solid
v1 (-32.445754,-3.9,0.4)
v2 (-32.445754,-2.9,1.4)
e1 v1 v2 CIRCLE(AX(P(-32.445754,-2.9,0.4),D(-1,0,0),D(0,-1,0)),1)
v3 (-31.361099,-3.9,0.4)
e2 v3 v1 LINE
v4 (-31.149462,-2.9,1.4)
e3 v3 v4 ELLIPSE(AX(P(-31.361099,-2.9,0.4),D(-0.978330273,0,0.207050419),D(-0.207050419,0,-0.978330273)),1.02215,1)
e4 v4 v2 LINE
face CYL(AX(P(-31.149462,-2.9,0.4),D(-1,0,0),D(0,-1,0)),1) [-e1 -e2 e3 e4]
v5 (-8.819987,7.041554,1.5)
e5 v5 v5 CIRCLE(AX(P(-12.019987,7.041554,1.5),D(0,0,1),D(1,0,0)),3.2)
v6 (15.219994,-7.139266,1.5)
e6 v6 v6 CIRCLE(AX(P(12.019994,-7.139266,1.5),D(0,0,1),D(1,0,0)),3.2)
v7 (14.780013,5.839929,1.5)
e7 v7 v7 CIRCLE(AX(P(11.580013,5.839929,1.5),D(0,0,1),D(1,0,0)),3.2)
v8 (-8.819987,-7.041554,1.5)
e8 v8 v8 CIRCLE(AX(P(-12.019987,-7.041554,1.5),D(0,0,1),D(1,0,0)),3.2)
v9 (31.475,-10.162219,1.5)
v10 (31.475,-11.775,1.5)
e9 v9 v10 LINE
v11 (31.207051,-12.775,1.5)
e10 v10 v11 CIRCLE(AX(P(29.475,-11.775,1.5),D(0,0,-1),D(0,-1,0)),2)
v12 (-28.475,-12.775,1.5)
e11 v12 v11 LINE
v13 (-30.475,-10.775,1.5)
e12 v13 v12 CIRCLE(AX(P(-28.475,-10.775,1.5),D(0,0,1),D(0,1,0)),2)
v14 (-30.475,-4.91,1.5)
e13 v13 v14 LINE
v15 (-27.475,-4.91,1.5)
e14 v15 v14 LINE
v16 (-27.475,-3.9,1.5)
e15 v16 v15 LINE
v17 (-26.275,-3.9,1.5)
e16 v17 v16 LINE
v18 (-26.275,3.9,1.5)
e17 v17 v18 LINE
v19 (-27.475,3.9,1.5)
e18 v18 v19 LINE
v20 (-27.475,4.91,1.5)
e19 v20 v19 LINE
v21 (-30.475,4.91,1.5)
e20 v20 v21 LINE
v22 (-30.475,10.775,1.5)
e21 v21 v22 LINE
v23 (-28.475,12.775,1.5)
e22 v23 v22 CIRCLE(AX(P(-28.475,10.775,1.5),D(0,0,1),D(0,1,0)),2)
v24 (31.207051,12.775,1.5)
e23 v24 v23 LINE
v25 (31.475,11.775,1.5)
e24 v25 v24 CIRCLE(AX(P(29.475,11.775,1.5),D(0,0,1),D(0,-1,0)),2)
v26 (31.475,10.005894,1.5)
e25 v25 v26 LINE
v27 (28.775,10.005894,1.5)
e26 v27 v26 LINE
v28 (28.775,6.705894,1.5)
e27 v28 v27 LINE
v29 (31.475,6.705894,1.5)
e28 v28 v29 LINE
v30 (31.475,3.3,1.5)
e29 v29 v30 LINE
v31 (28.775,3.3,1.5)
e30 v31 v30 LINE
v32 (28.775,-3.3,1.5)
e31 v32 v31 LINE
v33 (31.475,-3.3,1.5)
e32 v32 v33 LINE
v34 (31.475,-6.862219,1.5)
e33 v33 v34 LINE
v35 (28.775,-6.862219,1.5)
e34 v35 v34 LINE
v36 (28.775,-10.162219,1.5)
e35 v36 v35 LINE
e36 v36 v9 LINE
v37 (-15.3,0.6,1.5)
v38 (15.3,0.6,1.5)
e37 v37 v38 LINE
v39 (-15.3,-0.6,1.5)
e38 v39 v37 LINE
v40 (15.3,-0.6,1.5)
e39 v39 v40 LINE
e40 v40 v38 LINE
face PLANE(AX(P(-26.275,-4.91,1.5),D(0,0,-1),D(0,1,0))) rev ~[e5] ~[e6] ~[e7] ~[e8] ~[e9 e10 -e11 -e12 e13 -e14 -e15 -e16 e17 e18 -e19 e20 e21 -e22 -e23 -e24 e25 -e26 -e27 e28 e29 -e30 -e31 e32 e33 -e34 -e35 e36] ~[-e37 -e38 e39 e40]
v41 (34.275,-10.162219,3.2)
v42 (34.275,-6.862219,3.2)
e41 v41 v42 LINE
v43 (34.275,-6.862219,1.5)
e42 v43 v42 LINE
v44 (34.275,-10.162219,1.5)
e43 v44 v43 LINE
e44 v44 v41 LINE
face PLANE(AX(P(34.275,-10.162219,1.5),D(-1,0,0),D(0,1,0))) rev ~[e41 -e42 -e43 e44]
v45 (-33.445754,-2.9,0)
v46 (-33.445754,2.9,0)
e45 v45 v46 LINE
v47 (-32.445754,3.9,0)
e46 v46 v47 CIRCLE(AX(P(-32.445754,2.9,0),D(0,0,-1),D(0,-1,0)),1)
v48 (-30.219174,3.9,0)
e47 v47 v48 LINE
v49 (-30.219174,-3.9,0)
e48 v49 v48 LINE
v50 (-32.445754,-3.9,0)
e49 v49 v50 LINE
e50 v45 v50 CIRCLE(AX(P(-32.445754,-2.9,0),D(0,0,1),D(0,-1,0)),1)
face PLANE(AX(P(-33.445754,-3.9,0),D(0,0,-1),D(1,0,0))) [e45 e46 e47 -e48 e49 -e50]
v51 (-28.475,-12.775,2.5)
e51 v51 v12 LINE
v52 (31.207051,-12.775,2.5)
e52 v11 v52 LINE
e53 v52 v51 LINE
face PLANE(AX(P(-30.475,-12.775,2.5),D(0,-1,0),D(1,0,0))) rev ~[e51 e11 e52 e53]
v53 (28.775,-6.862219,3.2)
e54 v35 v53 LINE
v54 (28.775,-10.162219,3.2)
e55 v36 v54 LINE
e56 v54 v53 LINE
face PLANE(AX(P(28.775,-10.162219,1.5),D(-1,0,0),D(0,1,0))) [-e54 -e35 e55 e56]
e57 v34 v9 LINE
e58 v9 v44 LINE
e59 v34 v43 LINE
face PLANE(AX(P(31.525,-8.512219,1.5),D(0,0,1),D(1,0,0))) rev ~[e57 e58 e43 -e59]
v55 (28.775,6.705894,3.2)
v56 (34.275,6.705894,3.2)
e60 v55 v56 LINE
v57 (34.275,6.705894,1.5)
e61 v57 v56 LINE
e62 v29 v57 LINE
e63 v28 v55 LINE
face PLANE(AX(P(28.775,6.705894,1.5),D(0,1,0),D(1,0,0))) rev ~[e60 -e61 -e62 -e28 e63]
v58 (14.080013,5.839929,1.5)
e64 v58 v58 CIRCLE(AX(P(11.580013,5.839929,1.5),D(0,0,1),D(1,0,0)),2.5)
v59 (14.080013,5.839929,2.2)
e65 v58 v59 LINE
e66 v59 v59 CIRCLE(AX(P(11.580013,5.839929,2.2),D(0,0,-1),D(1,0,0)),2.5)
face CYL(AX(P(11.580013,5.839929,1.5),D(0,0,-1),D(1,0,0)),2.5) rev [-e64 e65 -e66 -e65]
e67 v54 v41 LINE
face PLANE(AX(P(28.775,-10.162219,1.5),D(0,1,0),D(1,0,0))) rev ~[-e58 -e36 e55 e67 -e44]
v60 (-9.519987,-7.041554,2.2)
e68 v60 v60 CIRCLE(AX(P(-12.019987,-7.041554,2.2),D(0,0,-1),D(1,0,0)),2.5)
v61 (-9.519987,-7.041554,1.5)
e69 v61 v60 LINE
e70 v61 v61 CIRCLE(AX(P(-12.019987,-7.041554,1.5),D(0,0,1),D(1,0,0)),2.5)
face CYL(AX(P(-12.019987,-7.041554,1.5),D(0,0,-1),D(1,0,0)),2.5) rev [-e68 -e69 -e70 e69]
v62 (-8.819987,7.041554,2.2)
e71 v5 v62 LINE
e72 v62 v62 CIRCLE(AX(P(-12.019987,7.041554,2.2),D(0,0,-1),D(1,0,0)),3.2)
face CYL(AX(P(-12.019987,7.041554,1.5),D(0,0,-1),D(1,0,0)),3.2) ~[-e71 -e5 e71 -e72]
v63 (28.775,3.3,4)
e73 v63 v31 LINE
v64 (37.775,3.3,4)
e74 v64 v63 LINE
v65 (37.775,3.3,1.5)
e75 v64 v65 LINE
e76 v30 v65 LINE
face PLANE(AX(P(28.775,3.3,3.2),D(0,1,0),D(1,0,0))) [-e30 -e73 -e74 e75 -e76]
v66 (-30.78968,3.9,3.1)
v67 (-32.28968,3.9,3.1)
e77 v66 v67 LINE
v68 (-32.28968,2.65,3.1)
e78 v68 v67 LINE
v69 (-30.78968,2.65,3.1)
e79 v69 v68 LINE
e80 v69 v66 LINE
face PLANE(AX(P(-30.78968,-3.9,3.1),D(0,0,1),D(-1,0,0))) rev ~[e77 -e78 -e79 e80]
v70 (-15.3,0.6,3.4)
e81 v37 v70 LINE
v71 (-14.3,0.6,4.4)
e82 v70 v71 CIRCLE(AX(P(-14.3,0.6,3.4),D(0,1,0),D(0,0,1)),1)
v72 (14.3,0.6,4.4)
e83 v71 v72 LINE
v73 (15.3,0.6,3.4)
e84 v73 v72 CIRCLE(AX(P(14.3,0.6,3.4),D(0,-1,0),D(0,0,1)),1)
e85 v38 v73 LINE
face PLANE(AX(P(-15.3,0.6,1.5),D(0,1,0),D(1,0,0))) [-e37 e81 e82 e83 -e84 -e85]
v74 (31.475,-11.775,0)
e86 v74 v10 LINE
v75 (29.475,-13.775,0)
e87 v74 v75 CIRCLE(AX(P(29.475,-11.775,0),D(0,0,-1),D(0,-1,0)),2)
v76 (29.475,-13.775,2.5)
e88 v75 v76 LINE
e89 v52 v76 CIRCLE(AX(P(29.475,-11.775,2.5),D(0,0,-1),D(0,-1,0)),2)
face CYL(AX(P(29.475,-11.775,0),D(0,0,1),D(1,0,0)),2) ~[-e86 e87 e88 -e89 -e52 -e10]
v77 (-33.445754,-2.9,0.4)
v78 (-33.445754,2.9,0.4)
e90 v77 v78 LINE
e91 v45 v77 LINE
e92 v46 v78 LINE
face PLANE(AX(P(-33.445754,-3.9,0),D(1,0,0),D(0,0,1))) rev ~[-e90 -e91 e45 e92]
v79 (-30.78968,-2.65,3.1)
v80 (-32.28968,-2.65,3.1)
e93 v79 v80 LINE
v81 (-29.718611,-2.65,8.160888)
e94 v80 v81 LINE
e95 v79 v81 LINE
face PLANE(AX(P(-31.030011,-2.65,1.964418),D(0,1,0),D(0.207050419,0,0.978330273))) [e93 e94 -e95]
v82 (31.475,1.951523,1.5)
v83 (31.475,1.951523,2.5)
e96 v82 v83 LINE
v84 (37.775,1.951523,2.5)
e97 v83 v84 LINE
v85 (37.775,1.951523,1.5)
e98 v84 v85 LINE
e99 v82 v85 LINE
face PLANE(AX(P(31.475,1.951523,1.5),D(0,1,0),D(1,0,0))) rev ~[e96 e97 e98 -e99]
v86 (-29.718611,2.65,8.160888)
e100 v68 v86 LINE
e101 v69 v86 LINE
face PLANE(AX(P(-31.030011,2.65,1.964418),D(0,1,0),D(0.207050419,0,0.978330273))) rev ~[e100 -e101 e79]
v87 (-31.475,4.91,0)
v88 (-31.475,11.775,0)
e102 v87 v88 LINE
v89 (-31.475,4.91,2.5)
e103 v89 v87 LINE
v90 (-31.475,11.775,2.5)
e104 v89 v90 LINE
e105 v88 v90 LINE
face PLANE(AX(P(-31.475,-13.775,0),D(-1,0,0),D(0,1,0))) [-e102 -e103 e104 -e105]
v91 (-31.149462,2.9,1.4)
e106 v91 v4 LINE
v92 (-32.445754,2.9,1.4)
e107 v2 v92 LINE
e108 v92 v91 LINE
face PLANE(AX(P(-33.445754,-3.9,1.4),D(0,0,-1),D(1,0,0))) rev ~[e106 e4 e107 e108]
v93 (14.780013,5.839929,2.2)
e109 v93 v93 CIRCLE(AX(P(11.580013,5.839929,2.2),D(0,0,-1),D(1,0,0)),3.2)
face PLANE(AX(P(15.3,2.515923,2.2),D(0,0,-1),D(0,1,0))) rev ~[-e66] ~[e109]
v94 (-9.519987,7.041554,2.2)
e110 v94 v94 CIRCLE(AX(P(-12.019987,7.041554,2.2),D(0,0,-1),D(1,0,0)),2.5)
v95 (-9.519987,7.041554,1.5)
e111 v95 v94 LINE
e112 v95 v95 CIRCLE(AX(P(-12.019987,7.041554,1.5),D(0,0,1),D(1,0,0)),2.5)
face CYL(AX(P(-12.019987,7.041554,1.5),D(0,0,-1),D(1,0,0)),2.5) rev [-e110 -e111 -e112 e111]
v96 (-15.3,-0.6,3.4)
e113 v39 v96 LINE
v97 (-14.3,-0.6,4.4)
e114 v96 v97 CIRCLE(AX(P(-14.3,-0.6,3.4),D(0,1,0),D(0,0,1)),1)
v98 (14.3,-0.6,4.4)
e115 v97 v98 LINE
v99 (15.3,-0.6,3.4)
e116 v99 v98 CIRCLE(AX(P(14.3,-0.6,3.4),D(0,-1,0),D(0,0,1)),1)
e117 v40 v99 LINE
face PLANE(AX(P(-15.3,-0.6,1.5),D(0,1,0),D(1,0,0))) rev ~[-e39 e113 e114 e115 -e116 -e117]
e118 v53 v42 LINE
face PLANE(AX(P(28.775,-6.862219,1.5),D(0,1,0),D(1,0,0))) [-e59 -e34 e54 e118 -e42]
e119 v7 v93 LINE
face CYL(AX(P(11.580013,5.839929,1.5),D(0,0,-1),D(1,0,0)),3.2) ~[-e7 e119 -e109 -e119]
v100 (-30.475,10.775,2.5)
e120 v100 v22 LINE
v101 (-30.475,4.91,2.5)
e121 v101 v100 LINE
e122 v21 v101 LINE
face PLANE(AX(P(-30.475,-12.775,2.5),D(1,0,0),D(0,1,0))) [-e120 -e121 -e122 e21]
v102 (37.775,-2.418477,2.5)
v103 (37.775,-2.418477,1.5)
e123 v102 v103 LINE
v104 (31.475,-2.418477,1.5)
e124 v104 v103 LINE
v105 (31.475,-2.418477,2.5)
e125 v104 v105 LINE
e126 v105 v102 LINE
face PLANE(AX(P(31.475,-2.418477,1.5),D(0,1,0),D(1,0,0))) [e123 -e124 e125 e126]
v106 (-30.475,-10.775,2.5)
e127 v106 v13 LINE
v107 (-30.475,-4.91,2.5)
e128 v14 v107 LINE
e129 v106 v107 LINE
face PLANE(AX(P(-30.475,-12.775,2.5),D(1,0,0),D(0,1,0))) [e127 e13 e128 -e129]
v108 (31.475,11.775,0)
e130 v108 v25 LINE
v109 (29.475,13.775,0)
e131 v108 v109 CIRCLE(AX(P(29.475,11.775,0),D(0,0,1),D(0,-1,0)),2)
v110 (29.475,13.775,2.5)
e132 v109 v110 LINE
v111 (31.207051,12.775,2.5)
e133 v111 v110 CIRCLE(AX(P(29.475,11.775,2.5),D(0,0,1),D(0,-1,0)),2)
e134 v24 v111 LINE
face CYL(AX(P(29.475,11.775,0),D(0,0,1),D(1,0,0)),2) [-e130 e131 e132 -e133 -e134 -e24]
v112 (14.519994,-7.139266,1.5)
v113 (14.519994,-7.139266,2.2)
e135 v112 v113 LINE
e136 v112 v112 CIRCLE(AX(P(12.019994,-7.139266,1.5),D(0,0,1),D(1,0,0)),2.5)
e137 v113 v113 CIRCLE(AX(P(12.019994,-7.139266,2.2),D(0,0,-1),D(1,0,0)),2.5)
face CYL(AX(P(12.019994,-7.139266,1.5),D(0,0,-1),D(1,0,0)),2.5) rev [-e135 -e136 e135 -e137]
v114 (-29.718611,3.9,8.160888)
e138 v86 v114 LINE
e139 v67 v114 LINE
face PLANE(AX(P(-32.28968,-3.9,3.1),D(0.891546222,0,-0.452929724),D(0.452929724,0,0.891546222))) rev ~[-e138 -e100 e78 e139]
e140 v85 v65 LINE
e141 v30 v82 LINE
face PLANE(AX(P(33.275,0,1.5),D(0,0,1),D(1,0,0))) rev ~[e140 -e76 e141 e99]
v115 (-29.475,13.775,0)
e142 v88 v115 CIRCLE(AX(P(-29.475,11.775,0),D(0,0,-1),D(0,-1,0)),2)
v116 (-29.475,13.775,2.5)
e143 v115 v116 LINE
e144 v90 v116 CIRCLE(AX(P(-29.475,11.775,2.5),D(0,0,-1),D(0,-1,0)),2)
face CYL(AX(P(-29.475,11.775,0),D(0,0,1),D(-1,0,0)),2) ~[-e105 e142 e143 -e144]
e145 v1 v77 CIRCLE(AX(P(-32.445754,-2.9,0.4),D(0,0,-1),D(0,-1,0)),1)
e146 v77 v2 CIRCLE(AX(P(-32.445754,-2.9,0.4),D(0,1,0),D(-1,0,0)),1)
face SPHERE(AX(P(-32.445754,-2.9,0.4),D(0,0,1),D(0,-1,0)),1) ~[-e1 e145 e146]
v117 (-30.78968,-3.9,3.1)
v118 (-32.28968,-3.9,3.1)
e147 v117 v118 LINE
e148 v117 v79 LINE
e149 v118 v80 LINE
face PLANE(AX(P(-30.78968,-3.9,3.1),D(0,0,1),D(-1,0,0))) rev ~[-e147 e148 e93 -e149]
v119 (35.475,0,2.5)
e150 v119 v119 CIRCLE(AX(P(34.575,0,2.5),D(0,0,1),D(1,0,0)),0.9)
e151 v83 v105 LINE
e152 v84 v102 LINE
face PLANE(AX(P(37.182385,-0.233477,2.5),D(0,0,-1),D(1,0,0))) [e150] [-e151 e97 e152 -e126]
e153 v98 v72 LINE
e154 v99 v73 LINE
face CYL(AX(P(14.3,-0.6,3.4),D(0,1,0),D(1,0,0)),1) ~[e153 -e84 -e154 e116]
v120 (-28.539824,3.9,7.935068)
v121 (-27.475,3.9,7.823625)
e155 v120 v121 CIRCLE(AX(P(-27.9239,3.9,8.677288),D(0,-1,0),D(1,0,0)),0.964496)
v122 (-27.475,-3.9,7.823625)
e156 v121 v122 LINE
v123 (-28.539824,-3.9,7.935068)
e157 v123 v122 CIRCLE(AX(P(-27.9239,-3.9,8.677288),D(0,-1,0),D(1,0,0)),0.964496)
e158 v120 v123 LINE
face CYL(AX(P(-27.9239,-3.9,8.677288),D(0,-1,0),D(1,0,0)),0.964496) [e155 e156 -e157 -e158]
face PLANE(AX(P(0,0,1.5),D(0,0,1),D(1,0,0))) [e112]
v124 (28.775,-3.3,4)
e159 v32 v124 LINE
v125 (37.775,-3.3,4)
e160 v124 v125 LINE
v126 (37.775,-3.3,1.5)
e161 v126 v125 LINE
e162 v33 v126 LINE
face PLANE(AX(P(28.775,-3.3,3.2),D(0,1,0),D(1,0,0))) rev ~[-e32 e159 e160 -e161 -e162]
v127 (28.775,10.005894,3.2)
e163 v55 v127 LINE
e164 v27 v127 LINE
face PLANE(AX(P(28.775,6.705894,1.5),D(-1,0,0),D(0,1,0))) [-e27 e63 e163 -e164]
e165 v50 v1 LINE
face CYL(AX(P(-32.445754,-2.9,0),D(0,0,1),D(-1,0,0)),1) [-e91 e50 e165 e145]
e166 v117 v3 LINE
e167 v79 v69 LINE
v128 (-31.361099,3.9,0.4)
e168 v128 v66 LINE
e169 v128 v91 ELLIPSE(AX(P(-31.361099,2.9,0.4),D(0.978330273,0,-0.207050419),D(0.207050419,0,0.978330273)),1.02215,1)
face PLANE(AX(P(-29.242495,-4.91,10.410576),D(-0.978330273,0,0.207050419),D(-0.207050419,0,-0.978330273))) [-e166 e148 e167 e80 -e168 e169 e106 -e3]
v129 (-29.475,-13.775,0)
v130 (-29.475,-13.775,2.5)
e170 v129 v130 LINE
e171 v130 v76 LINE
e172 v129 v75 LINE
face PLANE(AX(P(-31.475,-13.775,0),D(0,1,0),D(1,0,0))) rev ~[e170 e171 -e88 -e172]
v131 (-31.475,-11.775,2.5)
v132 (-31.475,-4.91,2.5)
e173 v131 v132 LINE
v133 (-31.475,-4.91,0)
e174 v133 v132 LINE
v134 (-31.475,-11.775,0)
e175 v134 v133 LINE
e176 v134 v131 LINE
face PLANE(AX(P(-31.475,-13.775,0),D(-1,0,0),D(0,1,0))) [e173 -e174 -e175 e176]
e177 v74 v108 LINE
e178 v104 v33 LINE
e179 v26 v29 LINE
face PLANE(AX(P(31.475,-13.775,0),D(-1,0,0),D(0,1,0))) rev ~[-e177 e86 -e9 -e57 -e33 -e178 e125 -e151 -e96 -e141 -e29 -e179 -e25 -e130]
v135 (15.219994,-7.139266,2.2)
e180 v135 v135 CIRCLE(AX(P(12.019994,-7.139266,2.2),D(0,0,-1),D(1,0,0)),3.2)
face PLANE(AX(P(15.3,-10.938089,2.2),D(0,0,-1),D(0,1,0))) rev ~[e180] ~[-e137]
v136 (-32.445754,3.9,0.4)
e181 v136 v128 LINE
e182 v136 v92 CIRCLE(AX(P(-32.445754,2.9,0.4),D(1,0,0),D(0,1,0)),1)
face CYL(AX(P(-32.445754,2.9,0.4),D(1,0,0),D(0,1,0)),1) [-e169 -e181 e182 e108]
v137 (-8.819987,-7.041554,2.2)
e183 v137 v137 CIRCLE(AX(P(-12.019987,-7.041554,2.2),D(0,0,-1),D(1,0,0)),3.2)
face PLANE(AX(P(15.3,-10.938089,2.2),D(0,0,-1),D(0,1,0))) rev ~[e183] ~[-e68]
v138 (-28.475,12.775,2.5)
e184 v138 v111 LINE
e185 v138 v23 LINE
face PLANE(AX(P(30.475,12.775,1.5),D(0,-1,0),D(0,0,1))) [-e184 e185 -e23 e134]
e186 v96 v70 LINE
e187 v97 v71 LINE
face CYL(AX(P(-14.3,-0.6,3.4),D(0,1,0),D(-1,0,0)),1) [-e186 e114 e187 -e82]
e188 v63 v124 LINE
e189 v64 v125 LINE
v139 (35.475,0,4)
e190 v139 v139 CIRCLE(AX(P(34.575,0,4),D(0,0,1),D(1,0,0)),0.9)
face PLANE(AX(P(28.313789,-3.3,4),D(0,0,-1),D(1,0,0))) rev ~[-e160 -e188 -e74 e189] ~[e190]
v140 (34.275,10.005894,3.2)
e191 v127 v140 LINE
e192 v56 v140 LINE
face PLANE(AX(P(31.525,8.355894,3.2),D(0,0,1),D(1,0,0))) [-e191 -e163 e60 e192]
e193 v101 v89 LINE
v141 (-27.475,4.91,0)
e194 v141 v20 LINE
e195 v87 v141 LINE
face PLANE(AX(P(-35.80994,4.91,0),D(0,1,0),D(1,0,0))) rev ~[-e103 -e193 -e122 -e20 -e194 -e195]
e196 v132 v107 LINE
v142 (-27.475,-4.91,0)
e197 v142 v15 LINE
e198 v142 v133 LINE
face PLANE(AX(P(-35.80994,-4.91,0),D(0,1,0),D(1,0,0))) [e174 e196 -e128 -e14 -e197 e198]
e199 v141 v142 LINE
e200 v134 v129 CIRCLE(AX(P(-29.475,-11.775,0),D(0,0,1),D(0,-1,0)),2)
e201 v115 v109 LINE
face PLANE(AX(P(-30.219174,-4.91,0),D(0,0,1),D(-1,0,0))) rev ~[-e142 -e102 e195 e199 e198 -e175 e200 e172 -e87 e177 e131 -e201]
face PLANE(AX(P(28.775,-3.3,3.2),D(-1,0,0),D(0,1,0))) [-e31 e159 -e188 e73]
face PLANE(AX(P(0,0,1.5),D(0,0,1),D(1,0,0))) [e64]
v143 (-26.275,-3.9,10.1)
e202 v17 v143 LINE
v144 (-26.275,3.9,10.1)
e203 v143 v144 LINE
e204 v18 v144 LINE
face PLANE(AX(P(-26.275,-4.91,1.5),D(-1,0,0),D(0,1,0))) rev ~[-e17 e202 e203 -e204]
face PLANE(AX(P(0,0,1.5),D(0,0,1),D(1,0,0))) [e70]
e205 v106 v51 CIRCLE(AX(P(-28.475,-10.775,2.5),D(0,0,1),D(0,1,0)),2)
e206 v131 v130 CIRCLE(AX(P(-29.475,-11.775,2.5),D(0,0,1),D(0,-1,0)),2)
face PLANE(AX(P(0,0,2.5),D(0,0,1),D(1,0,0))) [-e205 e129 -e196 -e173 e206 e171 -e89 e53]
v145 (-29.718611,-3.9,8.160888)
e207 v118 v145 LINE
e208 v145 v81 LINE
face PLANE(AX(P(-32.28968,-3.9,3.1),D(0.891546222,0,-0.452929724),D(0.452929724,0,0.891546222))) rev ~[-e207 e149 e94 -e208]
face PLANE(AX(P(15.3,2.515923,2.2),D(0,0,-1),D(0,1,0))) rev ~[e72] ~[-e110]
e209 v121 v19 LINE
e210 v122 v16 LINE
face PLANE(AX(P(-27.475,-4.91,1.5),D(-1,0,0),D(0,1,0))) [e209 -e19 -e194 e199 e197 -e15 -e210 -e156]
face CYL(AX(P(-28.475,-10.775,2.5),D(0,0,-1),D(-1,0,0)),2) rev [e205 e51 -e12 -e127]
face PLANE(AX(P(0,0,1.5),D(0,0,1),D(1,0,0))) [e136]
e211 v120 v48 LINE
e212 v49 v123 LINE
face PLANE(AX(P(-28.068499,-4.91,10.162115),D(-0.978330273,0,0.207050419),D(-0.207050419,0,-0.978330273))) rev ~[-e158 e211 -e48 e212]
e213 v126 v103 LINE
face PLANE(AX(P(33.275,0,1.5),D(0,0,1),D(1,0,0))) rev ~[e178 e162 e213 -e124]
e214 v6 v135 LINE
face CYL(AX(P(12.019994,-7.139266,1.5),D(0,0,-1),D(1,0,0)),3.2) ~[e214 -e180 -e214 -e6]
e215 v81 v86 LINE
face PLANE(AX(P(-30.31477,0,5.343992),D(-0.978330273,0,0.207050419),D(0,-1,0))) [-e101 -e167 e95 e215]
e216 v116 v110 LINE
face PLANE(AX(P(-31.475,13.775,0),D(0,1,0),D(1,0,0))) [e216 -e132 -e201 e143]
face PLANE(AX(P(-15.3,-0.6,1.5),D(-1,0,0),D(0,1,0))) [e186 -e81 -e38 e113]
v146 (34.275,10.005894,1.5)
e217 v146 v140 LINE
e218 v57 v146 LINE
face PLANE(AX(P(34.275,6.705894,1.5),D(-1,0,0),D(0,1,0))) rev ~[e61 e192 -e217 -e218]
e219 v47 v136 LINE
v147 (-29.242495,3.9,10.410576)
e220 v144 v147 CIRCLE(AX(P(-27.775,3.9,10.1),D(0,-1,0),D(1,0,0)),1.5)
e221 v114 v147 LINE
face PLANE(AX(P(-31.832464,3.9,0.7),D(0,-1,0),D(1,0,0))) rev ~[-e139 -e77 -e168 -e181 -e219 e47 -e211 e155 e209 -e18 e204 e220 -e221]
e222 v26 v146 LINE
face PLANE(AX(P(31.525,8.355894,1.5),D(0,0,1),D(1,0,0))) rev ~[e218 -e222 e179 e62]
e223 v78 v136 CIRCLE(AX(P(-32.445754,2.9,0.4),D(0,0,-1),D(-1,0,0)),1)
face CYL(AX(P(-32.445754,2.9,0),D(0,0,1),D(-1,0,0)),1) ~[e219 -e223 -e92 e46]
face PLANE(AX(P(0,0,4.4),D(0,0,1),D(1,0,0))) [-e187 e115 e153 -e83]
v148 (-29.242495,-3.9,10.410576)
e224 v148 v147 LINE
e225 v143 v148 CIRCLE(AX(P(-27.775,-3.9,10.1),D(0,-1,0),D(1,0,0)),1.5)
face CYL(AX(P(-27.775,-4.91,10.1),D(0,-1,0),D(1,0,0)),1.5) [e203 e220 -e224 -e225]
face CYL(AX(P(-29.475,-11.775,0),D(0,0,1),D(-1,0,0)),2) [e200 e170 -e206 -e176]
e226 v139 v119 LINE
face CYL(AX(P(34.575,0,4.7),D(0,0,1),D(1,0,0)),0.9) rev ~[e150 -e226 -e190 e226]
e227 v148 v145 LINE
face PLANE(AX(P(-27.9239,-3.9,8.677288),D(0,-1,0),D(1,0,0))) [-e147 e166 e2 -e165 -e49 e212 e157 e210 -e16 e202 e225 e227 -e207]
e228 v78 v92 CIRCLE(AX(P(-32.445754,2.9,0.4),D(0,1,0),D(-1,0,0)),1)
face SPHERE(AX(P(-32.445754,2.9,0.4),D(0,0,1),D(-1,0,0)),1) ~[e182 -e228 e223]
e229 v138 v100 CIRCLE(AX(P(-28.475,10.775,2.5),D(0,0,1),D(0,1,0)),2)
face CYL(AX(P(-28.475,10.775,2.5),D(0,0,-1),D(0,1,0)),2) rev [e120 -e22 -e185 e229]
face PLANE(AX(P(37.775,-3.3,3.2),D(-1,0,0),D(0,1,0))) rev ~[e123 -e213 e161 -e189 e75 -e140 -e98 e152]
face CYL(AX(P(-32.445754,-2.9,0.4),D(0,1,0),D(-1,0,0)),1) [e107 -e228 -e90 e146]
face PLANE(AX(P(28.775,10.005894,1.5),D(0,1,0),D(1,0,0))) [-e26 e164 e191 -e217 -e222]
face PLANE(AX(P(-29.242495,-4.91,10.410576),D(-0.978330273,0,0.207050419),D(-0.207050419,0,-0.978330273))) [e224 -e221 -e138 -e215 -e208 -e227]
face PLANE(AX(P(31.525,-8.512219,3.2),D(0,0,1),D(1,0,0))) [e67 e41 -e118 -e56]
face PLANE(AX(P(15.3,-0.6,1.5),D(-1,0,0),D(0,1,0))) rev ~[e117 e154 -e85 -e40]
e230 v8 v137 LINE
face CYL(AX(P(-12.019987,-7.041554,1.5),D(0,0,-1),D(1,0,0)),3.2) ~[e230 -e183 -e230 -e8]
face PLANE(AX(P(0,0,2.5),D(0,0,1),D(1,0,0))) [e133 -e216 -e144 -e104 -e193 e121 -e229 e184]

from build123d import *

# Parameters (mm, degrees)
SKETCH_W        = 62.95
SKETCH_H        = 27.55
PAD_DEPTH       = 2.5
SKETCH001_W     = 60.95
SKETCH001_H     = 25.55
POCKET_DEPTH    = 1
SKETCH002_W     = 8.33494
SKETCH002_H     = 9.82
POCKET001_DEPTH = 5
SKETCH003_W     = 25.55
SKETCH003_H     = 4.198582
POCKET002_DEPTH = 5
SKETCH004_W     = 5.5
SKETCH004_H     = 3.3
SKETCH004_W_2   = 9
SKETCH004_H_2   = 6.6
PAD001_DEPTH    = 1.7
SKETCH005_W     = 9
SKETCH005_H     = 6.6
PAD002_DEPTH    = 1.5
SKETCH006_W     = 11.41477
SKETCH006_H     = 4.37
POCKET003_DEPTH = 1
SKETCH007_R     = 0.9
POCKET004_DEPTH = 5
FILLET_R        = 2
FILLET001_R     = 2
SKETCH008_W     = 30.6
SKETCH008_H     = 1.2
PAD003_DEPTH    = 2.9
FILLET002_R     = 1
SKETCH009_R     = 3.2
SKETCH009_R_2   = 2.5
PAD004_DEPTH    = 1.2
SKETCH010_W     = 1.2
SKETCH010_H     = 9.82
PAD005_DEPTH    = 8.6
PAD006_DEPTH    = 9.8
SKETCH012_W     = 1.01
SKETCH012_H     = 12.1592368492
POCKET005_DEPTH = 5
SKETCH013_W     = 1.919350973
SKETCH013_H     = 0.99
SKETCH013_W_2   = 2.016565973
SKETCH013_H_2   = 1.01
POCKET006_DEPTH = 5
SKETCH014_W     = 3.22658
SKETCH014_H     = 1.4
PAD007_DEPTH    = 7.8
FILLET003_R     = 1
FILLET004_R     = 1
PAD008_DEPTH    = 7.8
SKETCH016_W     = 5.3
SKETCH016_H     = 6.908861
POCKET007_DEPTH = 5
SKETCH017_W     = 7.346396
SKETCH017_H     = 1.27086
POCKET008_DEPTH = 12
FILLET005_R     = 2
FILLET006_R     = 2
SKETCH018_W     = 8.422166
SKETCH018_H     = 10.199767
POCKET009_DEPTH = 31
SKETCH019_R     = 1.5
PAD009_DEPTH    = 7.8
SKETCH020_W     = 10.078106
SKETCH020_H     = 1.351365
POCKET010_DEPTH = 17.076
SKETCH021_R     = 0.9644956182
PAD010_DEPTH    = 7.8


with BuildPart() as part:
    # Sketch → Pad (new body)
    with BuildSketch(Plane.XY):
        Rectangle(SKETCH_W, SKETCH_H)
    extrude(amount=PAD_DEPTH)

    # Sketch001 → Pocket (cut)
    with BuildSketch(Plane.XY.offset(2.5)):
        Rectangle(SKETCH001_W, SKETCH001_H)
    extrude(amount=-POCKET_DEPTH, mode=Mode.SUBTRACT)

    # Sketch002 → Pocket001 (cut)
    with BuildSketch(Plane(origin=(0, 0, 0), x_dir=(1, 0, 0), z_dir=(0, 0, -1))):
        with Locations((-31.64247, 0)):
            Rectangle(SKETCH002_W, SKETCH002_H)
    extrude(amount=-POCKET001_DEPTH, mode=Mode.SUBTRACT)

    # Sketch003 → Pocket002 (cut)
    with BuildSketch(Plane(origin=(30.475, 0, 0), x_dir=(0, -1, 0), z_dir=(-1, 0, 0))):
        with Locations((0, 3.599291)):
            Rectangle(SKETCH003_W, SKETCH003_H)
    extrude(amount=-POCKET002_DEPTH, mode=Mode.SUBTRACT)

    # Sketch004 → Pad001 (new body)
    with BuildSketch(Plane.XY.offset(1.5)):
        with Locations((31.525, 8.3558943219)):
            Rectangle(SKETCH004_W, SKETCH004_H)
        with Locations((31.525, -8.5122186382)):
            Rectangle(SKETCH004_W, SKETCH004_H)
        with Locations((33.275, 0)):
            Rectangle(SKETCH004_W_2, SKETCH004_H_2)
    extrude(amount=PAD001_DEPTH)

    # Sketch005 → Pad002 (new body)
    with BuildSketch(Plane.XY.offset(3.2)):
        with Locations((33.275, 0)):
            Rectangle(SKETCH005_W, SKETCH005_H)
    extrude(amount=PAD002_DEPTH)

    # Sketch006 → Pocket003 (cut)
    with BuildSketch(Plane(origin=(0, 0, 1.5), x_dir=(1, 0, 0), z_dir=(0, 0, -1))):
        with Locations((37.182385, 0.2334771648)):
            Rectangle(SKETCH006_W, SKETCH006_H)
    extrude(amount=-POCKET003_DEPTH, mode=Mode.SUBTRACT)

    # Sketch007 → Pocket004 (cut)
    with BuildSketch(Plane.XY.offset(4.7)):
        with Locations((34.575, 0)):
            Circle(SKETCH007_R)
    extrude(amount=-POCKET004_DEPTH, mode=Mode.SUBTRACT)

    # Fillet
    fillet_edges = [part.edges().sort_by_distance(p)[0] for p in [
        (-31.475, 13.775, 1.25),
        (-31.475, -13.775, 1.25),
    ]]
    fillet(fillet_edges, radius=FILLET_R)

    # Fillet001
    fillet001_edges = [part.edges().sort_by_distance(p)[0] for p in [
        (-30.475, 12.775, 2),
        (-30.475, -12.775, 2),
    ]]
    fillet(fillet001_edges, radius=FILLET001_R)

    # Sketch008 → Pad003 (new body)
    with BuildSketch(Plane.XY.offset(1.5)):
        Rectangle(SKETCH008_W, SKETCH008_H)
    extrude(amount=PAD003_DEPTH)

    # Fillet002
    fillet002_edges = [part.edges().sort_by_distance(p)[0] for p in [
        (15.3, 0, 4.4),
        (-15.3, 0, 4.4),
    ]]
    fillet(fillet002_edges, radius=FILLET002_R)

    # Sketch009 → Pad004 (new body)
    with BuildSketch(Plane.XY.offset(1.5)):
        with Locations((-12.019986846, 7.041554)):
            Circle(SKETCH009_R)
        with Locations((-12.019986846, 7.041554)):
            Circle(SKETCH009_R_2, mode=Mode.SUBTRACT)
        with Locations((11.580013154, 5.839929)):
            Circle(SKETCH009_R)
        with Locations((11.580013154, 5.839929)):
            Circle(SKETCH009_R_2, mode=Mode.SUBTRACT)
        with Locations((12.019994, -7.139266)):
            Circle(SKETCH009_R)
        with Locations((12.019994, -7.139266)):
            Circle(SKETCH009_R_2, mode=Mode.SUBTRACT)
        with Locations((-12.019986846, -7.041554)):
            Circle(SKETCH009_R)
        with Locations((-12.019986846, -7.041554)):
            Circle(SKETCH009_R_2, mode=Mode.SUBTRACT)
    extrude(amount=PAD004_DEPTH)

    # Sketch010 → Pad005 (new body)
    with BuildSketch(Plane.XY.offset(1.5)):
        with Locations((-26.875, 0)):
            Rectangle(SKETCH010_W, SKETCH010_H)
    extrude(amount=PAD005_DEPTH)

    # Sketch011 → Pad006 (new body)
    with BuildSketch(Plane.XZ.offset(4.91)):
        with BuildLine():
            ThreePointArc((-26.275, 10.1), (-27.6188640233, 11.5918517208), (-29.242495409, 10.410575634))
            Line((-29.242495409, 10.410575634), (-31.4457534602, 0))
            Line((-30.2191738146, 0), (-31.4457534602, 0))
            Line((-28.0684990822, 10.1621151248), (-30.2191738146, 0))
            ThreePointArc((-27.475, 10.1), (-27.7437728057, 10.3983703443), (-28.0684990822, 10.1621151248))
            Line((-26.275, 10.1), (-27.475, 10.1))
        make_face()
    extrude(amount=-PAD006_DEPTH)

    # Sketch012 → Pocket005 (cut)
    with BuildSketch(Plane.YZ.offset(-26.275)):
        with Locations((-4.405, 7.5796184246)):
            Rectangle(SKETCH012_W, SKETCH012_H)
        with Locations((4.405, 7.5796184246)):
            Rectangle(SKETCH012_W, SKETCH012_H)
    extrude(amount=-POCKET005_DEPTH, mode=Mode.SUBTRACT)

    # Sketch013 → Pocket006 (cut)
    with BuildSketch(Plane.XY.offset(1.5)):
        with Locations((-30.8613945135, 4.395)):
            Rectangle(SKETCH013_W, SKETCH013_H)
        with Locations((-30.9100020135, -4.405)):
            Rectangle(SKETCH013_W_2, SKETCH013_H_2)
    extrude(amount=-POCKET006_DEPTH, mode=Mode.SUBTRACT)

    # Sketch014 → Pad007 (new body)
    with BuildSketch(Plane.XZ.offset(3.9)):
        with Locations((-31.8324638146, 0.7)):
            Rectangle(SKETCH014_W, SKETCH014_H)
    extrude(amount=-PAD007_DEPTH)

    # Fillet003
    fillet003_edges = [part.edges().sort_by_distance(p)[0] for p in [
        (-33.445754, -3.9, 0.7),
        (-33.445754, 3.9, 0.7),
    ]]
    fillet(fillet003_edges, radius=FILLET003_R)

    # Fillet004
    fillet004_edges = [part.edges().sort_by_distance(p)[0] for p in [
        (-33.445754, 0, 1.4),
    ]]
    fillet(fillet004_edges, radius=FILLET004_R)

    # Sketch015 → Pad008 (new body)
    with BuildSketch(Plane.XZ.offset(3.9)):
        Polygon((-30.7896802325, 3.1), (-32.2896802325, 3.1), (-29.7186114617, 8.1608880977), align=None)
    extrude(amount=-PAD008_DEPTH)

    # Sketch016 → Pocket007 (cut)
    with BuildSketch(Plane(origin=(-30.0976779028, 0, 6.3697679641), x_dir=(0, -1, 0), z_dir=(-0.9783302734, 0, 0.2070504194))):
        with Locations((0, -1.0484965)):
            Rectangle(SKETCH016_W, SKETCH016_H)
    extrude(amount=POCKET007_DEPTH, mode=Mode.SUBTRACT)

    # Sketch017 → Pocket008 (cut)
    with BuildSketch(Plane.YZ.offset(37.775)):
        with Locations((0.176766, 5.13543)):
            Rectangle(SKETCH017_W, SKETCH017_H)
    extrude(amount=-POCKET008_DEPTH, mode=Mode.SUBTRACT)

    # Fillet005
    fillet005_edges = [part.edges().sort_by_distance(p)[0] for p in [
        (31.475, 13.775, 1.25),
    ]]
    fillet(fillet005_edges, radius=FILLET005_R)

    # Fillet006
    fillet006_edges = [part.edges().sort_by_distance(p)[0] for p in [
        (31.475, -13.775, 1.25),
    ]]
    fillet(fillet006_edges, radius=FILLET006_R)

    # Sketch018 → Pocket009 (cut)
    with BuildSketch(Plane.YZ.offset(15.3)):
        with Locations((-6.727006, 7.2998835)):
            Rectangle(SKETCH018_W, SKETCH018_H)
        with Locations((6.727006, 7.2998835)):
            Rectangle(SKETCH018_W, SKETCH018_H)
    extrude(amount=-POCKET009_DEPTH, mode=Mode.SUBTRACT)

    # Sketch019 → Pad009 (new body)
    with BuildSketch(Plane.XZ.offset(3.9)):
        with Locations((-27.775, 10.1)):
            Circle(SKETCH019_R)
    extrude(amount=-PAD009_DEPTH)

    # Sketch020 → Pocket010 (cut, through all)
    with BuildSketch(Plane.XZ.offset(3.3)):
        with Locations((33.352842, 4.6756825)):
            Rectangle(SKETCH020_W, SKETCH020_H)
    extrude(amount=-POCKET010_DEPTH, mode=Mode.SUBTRACT)

    # Sketch021 → Pad010 (new body)
    with BuildSketch(Plane.XZ.offset(3.9)):
        with Locations((-27.9238999046, 8.6772876492)):
            Circle(SKETCH021_R)
    extrude(amount=-PAD010_DEPTH)


solid = part.part
